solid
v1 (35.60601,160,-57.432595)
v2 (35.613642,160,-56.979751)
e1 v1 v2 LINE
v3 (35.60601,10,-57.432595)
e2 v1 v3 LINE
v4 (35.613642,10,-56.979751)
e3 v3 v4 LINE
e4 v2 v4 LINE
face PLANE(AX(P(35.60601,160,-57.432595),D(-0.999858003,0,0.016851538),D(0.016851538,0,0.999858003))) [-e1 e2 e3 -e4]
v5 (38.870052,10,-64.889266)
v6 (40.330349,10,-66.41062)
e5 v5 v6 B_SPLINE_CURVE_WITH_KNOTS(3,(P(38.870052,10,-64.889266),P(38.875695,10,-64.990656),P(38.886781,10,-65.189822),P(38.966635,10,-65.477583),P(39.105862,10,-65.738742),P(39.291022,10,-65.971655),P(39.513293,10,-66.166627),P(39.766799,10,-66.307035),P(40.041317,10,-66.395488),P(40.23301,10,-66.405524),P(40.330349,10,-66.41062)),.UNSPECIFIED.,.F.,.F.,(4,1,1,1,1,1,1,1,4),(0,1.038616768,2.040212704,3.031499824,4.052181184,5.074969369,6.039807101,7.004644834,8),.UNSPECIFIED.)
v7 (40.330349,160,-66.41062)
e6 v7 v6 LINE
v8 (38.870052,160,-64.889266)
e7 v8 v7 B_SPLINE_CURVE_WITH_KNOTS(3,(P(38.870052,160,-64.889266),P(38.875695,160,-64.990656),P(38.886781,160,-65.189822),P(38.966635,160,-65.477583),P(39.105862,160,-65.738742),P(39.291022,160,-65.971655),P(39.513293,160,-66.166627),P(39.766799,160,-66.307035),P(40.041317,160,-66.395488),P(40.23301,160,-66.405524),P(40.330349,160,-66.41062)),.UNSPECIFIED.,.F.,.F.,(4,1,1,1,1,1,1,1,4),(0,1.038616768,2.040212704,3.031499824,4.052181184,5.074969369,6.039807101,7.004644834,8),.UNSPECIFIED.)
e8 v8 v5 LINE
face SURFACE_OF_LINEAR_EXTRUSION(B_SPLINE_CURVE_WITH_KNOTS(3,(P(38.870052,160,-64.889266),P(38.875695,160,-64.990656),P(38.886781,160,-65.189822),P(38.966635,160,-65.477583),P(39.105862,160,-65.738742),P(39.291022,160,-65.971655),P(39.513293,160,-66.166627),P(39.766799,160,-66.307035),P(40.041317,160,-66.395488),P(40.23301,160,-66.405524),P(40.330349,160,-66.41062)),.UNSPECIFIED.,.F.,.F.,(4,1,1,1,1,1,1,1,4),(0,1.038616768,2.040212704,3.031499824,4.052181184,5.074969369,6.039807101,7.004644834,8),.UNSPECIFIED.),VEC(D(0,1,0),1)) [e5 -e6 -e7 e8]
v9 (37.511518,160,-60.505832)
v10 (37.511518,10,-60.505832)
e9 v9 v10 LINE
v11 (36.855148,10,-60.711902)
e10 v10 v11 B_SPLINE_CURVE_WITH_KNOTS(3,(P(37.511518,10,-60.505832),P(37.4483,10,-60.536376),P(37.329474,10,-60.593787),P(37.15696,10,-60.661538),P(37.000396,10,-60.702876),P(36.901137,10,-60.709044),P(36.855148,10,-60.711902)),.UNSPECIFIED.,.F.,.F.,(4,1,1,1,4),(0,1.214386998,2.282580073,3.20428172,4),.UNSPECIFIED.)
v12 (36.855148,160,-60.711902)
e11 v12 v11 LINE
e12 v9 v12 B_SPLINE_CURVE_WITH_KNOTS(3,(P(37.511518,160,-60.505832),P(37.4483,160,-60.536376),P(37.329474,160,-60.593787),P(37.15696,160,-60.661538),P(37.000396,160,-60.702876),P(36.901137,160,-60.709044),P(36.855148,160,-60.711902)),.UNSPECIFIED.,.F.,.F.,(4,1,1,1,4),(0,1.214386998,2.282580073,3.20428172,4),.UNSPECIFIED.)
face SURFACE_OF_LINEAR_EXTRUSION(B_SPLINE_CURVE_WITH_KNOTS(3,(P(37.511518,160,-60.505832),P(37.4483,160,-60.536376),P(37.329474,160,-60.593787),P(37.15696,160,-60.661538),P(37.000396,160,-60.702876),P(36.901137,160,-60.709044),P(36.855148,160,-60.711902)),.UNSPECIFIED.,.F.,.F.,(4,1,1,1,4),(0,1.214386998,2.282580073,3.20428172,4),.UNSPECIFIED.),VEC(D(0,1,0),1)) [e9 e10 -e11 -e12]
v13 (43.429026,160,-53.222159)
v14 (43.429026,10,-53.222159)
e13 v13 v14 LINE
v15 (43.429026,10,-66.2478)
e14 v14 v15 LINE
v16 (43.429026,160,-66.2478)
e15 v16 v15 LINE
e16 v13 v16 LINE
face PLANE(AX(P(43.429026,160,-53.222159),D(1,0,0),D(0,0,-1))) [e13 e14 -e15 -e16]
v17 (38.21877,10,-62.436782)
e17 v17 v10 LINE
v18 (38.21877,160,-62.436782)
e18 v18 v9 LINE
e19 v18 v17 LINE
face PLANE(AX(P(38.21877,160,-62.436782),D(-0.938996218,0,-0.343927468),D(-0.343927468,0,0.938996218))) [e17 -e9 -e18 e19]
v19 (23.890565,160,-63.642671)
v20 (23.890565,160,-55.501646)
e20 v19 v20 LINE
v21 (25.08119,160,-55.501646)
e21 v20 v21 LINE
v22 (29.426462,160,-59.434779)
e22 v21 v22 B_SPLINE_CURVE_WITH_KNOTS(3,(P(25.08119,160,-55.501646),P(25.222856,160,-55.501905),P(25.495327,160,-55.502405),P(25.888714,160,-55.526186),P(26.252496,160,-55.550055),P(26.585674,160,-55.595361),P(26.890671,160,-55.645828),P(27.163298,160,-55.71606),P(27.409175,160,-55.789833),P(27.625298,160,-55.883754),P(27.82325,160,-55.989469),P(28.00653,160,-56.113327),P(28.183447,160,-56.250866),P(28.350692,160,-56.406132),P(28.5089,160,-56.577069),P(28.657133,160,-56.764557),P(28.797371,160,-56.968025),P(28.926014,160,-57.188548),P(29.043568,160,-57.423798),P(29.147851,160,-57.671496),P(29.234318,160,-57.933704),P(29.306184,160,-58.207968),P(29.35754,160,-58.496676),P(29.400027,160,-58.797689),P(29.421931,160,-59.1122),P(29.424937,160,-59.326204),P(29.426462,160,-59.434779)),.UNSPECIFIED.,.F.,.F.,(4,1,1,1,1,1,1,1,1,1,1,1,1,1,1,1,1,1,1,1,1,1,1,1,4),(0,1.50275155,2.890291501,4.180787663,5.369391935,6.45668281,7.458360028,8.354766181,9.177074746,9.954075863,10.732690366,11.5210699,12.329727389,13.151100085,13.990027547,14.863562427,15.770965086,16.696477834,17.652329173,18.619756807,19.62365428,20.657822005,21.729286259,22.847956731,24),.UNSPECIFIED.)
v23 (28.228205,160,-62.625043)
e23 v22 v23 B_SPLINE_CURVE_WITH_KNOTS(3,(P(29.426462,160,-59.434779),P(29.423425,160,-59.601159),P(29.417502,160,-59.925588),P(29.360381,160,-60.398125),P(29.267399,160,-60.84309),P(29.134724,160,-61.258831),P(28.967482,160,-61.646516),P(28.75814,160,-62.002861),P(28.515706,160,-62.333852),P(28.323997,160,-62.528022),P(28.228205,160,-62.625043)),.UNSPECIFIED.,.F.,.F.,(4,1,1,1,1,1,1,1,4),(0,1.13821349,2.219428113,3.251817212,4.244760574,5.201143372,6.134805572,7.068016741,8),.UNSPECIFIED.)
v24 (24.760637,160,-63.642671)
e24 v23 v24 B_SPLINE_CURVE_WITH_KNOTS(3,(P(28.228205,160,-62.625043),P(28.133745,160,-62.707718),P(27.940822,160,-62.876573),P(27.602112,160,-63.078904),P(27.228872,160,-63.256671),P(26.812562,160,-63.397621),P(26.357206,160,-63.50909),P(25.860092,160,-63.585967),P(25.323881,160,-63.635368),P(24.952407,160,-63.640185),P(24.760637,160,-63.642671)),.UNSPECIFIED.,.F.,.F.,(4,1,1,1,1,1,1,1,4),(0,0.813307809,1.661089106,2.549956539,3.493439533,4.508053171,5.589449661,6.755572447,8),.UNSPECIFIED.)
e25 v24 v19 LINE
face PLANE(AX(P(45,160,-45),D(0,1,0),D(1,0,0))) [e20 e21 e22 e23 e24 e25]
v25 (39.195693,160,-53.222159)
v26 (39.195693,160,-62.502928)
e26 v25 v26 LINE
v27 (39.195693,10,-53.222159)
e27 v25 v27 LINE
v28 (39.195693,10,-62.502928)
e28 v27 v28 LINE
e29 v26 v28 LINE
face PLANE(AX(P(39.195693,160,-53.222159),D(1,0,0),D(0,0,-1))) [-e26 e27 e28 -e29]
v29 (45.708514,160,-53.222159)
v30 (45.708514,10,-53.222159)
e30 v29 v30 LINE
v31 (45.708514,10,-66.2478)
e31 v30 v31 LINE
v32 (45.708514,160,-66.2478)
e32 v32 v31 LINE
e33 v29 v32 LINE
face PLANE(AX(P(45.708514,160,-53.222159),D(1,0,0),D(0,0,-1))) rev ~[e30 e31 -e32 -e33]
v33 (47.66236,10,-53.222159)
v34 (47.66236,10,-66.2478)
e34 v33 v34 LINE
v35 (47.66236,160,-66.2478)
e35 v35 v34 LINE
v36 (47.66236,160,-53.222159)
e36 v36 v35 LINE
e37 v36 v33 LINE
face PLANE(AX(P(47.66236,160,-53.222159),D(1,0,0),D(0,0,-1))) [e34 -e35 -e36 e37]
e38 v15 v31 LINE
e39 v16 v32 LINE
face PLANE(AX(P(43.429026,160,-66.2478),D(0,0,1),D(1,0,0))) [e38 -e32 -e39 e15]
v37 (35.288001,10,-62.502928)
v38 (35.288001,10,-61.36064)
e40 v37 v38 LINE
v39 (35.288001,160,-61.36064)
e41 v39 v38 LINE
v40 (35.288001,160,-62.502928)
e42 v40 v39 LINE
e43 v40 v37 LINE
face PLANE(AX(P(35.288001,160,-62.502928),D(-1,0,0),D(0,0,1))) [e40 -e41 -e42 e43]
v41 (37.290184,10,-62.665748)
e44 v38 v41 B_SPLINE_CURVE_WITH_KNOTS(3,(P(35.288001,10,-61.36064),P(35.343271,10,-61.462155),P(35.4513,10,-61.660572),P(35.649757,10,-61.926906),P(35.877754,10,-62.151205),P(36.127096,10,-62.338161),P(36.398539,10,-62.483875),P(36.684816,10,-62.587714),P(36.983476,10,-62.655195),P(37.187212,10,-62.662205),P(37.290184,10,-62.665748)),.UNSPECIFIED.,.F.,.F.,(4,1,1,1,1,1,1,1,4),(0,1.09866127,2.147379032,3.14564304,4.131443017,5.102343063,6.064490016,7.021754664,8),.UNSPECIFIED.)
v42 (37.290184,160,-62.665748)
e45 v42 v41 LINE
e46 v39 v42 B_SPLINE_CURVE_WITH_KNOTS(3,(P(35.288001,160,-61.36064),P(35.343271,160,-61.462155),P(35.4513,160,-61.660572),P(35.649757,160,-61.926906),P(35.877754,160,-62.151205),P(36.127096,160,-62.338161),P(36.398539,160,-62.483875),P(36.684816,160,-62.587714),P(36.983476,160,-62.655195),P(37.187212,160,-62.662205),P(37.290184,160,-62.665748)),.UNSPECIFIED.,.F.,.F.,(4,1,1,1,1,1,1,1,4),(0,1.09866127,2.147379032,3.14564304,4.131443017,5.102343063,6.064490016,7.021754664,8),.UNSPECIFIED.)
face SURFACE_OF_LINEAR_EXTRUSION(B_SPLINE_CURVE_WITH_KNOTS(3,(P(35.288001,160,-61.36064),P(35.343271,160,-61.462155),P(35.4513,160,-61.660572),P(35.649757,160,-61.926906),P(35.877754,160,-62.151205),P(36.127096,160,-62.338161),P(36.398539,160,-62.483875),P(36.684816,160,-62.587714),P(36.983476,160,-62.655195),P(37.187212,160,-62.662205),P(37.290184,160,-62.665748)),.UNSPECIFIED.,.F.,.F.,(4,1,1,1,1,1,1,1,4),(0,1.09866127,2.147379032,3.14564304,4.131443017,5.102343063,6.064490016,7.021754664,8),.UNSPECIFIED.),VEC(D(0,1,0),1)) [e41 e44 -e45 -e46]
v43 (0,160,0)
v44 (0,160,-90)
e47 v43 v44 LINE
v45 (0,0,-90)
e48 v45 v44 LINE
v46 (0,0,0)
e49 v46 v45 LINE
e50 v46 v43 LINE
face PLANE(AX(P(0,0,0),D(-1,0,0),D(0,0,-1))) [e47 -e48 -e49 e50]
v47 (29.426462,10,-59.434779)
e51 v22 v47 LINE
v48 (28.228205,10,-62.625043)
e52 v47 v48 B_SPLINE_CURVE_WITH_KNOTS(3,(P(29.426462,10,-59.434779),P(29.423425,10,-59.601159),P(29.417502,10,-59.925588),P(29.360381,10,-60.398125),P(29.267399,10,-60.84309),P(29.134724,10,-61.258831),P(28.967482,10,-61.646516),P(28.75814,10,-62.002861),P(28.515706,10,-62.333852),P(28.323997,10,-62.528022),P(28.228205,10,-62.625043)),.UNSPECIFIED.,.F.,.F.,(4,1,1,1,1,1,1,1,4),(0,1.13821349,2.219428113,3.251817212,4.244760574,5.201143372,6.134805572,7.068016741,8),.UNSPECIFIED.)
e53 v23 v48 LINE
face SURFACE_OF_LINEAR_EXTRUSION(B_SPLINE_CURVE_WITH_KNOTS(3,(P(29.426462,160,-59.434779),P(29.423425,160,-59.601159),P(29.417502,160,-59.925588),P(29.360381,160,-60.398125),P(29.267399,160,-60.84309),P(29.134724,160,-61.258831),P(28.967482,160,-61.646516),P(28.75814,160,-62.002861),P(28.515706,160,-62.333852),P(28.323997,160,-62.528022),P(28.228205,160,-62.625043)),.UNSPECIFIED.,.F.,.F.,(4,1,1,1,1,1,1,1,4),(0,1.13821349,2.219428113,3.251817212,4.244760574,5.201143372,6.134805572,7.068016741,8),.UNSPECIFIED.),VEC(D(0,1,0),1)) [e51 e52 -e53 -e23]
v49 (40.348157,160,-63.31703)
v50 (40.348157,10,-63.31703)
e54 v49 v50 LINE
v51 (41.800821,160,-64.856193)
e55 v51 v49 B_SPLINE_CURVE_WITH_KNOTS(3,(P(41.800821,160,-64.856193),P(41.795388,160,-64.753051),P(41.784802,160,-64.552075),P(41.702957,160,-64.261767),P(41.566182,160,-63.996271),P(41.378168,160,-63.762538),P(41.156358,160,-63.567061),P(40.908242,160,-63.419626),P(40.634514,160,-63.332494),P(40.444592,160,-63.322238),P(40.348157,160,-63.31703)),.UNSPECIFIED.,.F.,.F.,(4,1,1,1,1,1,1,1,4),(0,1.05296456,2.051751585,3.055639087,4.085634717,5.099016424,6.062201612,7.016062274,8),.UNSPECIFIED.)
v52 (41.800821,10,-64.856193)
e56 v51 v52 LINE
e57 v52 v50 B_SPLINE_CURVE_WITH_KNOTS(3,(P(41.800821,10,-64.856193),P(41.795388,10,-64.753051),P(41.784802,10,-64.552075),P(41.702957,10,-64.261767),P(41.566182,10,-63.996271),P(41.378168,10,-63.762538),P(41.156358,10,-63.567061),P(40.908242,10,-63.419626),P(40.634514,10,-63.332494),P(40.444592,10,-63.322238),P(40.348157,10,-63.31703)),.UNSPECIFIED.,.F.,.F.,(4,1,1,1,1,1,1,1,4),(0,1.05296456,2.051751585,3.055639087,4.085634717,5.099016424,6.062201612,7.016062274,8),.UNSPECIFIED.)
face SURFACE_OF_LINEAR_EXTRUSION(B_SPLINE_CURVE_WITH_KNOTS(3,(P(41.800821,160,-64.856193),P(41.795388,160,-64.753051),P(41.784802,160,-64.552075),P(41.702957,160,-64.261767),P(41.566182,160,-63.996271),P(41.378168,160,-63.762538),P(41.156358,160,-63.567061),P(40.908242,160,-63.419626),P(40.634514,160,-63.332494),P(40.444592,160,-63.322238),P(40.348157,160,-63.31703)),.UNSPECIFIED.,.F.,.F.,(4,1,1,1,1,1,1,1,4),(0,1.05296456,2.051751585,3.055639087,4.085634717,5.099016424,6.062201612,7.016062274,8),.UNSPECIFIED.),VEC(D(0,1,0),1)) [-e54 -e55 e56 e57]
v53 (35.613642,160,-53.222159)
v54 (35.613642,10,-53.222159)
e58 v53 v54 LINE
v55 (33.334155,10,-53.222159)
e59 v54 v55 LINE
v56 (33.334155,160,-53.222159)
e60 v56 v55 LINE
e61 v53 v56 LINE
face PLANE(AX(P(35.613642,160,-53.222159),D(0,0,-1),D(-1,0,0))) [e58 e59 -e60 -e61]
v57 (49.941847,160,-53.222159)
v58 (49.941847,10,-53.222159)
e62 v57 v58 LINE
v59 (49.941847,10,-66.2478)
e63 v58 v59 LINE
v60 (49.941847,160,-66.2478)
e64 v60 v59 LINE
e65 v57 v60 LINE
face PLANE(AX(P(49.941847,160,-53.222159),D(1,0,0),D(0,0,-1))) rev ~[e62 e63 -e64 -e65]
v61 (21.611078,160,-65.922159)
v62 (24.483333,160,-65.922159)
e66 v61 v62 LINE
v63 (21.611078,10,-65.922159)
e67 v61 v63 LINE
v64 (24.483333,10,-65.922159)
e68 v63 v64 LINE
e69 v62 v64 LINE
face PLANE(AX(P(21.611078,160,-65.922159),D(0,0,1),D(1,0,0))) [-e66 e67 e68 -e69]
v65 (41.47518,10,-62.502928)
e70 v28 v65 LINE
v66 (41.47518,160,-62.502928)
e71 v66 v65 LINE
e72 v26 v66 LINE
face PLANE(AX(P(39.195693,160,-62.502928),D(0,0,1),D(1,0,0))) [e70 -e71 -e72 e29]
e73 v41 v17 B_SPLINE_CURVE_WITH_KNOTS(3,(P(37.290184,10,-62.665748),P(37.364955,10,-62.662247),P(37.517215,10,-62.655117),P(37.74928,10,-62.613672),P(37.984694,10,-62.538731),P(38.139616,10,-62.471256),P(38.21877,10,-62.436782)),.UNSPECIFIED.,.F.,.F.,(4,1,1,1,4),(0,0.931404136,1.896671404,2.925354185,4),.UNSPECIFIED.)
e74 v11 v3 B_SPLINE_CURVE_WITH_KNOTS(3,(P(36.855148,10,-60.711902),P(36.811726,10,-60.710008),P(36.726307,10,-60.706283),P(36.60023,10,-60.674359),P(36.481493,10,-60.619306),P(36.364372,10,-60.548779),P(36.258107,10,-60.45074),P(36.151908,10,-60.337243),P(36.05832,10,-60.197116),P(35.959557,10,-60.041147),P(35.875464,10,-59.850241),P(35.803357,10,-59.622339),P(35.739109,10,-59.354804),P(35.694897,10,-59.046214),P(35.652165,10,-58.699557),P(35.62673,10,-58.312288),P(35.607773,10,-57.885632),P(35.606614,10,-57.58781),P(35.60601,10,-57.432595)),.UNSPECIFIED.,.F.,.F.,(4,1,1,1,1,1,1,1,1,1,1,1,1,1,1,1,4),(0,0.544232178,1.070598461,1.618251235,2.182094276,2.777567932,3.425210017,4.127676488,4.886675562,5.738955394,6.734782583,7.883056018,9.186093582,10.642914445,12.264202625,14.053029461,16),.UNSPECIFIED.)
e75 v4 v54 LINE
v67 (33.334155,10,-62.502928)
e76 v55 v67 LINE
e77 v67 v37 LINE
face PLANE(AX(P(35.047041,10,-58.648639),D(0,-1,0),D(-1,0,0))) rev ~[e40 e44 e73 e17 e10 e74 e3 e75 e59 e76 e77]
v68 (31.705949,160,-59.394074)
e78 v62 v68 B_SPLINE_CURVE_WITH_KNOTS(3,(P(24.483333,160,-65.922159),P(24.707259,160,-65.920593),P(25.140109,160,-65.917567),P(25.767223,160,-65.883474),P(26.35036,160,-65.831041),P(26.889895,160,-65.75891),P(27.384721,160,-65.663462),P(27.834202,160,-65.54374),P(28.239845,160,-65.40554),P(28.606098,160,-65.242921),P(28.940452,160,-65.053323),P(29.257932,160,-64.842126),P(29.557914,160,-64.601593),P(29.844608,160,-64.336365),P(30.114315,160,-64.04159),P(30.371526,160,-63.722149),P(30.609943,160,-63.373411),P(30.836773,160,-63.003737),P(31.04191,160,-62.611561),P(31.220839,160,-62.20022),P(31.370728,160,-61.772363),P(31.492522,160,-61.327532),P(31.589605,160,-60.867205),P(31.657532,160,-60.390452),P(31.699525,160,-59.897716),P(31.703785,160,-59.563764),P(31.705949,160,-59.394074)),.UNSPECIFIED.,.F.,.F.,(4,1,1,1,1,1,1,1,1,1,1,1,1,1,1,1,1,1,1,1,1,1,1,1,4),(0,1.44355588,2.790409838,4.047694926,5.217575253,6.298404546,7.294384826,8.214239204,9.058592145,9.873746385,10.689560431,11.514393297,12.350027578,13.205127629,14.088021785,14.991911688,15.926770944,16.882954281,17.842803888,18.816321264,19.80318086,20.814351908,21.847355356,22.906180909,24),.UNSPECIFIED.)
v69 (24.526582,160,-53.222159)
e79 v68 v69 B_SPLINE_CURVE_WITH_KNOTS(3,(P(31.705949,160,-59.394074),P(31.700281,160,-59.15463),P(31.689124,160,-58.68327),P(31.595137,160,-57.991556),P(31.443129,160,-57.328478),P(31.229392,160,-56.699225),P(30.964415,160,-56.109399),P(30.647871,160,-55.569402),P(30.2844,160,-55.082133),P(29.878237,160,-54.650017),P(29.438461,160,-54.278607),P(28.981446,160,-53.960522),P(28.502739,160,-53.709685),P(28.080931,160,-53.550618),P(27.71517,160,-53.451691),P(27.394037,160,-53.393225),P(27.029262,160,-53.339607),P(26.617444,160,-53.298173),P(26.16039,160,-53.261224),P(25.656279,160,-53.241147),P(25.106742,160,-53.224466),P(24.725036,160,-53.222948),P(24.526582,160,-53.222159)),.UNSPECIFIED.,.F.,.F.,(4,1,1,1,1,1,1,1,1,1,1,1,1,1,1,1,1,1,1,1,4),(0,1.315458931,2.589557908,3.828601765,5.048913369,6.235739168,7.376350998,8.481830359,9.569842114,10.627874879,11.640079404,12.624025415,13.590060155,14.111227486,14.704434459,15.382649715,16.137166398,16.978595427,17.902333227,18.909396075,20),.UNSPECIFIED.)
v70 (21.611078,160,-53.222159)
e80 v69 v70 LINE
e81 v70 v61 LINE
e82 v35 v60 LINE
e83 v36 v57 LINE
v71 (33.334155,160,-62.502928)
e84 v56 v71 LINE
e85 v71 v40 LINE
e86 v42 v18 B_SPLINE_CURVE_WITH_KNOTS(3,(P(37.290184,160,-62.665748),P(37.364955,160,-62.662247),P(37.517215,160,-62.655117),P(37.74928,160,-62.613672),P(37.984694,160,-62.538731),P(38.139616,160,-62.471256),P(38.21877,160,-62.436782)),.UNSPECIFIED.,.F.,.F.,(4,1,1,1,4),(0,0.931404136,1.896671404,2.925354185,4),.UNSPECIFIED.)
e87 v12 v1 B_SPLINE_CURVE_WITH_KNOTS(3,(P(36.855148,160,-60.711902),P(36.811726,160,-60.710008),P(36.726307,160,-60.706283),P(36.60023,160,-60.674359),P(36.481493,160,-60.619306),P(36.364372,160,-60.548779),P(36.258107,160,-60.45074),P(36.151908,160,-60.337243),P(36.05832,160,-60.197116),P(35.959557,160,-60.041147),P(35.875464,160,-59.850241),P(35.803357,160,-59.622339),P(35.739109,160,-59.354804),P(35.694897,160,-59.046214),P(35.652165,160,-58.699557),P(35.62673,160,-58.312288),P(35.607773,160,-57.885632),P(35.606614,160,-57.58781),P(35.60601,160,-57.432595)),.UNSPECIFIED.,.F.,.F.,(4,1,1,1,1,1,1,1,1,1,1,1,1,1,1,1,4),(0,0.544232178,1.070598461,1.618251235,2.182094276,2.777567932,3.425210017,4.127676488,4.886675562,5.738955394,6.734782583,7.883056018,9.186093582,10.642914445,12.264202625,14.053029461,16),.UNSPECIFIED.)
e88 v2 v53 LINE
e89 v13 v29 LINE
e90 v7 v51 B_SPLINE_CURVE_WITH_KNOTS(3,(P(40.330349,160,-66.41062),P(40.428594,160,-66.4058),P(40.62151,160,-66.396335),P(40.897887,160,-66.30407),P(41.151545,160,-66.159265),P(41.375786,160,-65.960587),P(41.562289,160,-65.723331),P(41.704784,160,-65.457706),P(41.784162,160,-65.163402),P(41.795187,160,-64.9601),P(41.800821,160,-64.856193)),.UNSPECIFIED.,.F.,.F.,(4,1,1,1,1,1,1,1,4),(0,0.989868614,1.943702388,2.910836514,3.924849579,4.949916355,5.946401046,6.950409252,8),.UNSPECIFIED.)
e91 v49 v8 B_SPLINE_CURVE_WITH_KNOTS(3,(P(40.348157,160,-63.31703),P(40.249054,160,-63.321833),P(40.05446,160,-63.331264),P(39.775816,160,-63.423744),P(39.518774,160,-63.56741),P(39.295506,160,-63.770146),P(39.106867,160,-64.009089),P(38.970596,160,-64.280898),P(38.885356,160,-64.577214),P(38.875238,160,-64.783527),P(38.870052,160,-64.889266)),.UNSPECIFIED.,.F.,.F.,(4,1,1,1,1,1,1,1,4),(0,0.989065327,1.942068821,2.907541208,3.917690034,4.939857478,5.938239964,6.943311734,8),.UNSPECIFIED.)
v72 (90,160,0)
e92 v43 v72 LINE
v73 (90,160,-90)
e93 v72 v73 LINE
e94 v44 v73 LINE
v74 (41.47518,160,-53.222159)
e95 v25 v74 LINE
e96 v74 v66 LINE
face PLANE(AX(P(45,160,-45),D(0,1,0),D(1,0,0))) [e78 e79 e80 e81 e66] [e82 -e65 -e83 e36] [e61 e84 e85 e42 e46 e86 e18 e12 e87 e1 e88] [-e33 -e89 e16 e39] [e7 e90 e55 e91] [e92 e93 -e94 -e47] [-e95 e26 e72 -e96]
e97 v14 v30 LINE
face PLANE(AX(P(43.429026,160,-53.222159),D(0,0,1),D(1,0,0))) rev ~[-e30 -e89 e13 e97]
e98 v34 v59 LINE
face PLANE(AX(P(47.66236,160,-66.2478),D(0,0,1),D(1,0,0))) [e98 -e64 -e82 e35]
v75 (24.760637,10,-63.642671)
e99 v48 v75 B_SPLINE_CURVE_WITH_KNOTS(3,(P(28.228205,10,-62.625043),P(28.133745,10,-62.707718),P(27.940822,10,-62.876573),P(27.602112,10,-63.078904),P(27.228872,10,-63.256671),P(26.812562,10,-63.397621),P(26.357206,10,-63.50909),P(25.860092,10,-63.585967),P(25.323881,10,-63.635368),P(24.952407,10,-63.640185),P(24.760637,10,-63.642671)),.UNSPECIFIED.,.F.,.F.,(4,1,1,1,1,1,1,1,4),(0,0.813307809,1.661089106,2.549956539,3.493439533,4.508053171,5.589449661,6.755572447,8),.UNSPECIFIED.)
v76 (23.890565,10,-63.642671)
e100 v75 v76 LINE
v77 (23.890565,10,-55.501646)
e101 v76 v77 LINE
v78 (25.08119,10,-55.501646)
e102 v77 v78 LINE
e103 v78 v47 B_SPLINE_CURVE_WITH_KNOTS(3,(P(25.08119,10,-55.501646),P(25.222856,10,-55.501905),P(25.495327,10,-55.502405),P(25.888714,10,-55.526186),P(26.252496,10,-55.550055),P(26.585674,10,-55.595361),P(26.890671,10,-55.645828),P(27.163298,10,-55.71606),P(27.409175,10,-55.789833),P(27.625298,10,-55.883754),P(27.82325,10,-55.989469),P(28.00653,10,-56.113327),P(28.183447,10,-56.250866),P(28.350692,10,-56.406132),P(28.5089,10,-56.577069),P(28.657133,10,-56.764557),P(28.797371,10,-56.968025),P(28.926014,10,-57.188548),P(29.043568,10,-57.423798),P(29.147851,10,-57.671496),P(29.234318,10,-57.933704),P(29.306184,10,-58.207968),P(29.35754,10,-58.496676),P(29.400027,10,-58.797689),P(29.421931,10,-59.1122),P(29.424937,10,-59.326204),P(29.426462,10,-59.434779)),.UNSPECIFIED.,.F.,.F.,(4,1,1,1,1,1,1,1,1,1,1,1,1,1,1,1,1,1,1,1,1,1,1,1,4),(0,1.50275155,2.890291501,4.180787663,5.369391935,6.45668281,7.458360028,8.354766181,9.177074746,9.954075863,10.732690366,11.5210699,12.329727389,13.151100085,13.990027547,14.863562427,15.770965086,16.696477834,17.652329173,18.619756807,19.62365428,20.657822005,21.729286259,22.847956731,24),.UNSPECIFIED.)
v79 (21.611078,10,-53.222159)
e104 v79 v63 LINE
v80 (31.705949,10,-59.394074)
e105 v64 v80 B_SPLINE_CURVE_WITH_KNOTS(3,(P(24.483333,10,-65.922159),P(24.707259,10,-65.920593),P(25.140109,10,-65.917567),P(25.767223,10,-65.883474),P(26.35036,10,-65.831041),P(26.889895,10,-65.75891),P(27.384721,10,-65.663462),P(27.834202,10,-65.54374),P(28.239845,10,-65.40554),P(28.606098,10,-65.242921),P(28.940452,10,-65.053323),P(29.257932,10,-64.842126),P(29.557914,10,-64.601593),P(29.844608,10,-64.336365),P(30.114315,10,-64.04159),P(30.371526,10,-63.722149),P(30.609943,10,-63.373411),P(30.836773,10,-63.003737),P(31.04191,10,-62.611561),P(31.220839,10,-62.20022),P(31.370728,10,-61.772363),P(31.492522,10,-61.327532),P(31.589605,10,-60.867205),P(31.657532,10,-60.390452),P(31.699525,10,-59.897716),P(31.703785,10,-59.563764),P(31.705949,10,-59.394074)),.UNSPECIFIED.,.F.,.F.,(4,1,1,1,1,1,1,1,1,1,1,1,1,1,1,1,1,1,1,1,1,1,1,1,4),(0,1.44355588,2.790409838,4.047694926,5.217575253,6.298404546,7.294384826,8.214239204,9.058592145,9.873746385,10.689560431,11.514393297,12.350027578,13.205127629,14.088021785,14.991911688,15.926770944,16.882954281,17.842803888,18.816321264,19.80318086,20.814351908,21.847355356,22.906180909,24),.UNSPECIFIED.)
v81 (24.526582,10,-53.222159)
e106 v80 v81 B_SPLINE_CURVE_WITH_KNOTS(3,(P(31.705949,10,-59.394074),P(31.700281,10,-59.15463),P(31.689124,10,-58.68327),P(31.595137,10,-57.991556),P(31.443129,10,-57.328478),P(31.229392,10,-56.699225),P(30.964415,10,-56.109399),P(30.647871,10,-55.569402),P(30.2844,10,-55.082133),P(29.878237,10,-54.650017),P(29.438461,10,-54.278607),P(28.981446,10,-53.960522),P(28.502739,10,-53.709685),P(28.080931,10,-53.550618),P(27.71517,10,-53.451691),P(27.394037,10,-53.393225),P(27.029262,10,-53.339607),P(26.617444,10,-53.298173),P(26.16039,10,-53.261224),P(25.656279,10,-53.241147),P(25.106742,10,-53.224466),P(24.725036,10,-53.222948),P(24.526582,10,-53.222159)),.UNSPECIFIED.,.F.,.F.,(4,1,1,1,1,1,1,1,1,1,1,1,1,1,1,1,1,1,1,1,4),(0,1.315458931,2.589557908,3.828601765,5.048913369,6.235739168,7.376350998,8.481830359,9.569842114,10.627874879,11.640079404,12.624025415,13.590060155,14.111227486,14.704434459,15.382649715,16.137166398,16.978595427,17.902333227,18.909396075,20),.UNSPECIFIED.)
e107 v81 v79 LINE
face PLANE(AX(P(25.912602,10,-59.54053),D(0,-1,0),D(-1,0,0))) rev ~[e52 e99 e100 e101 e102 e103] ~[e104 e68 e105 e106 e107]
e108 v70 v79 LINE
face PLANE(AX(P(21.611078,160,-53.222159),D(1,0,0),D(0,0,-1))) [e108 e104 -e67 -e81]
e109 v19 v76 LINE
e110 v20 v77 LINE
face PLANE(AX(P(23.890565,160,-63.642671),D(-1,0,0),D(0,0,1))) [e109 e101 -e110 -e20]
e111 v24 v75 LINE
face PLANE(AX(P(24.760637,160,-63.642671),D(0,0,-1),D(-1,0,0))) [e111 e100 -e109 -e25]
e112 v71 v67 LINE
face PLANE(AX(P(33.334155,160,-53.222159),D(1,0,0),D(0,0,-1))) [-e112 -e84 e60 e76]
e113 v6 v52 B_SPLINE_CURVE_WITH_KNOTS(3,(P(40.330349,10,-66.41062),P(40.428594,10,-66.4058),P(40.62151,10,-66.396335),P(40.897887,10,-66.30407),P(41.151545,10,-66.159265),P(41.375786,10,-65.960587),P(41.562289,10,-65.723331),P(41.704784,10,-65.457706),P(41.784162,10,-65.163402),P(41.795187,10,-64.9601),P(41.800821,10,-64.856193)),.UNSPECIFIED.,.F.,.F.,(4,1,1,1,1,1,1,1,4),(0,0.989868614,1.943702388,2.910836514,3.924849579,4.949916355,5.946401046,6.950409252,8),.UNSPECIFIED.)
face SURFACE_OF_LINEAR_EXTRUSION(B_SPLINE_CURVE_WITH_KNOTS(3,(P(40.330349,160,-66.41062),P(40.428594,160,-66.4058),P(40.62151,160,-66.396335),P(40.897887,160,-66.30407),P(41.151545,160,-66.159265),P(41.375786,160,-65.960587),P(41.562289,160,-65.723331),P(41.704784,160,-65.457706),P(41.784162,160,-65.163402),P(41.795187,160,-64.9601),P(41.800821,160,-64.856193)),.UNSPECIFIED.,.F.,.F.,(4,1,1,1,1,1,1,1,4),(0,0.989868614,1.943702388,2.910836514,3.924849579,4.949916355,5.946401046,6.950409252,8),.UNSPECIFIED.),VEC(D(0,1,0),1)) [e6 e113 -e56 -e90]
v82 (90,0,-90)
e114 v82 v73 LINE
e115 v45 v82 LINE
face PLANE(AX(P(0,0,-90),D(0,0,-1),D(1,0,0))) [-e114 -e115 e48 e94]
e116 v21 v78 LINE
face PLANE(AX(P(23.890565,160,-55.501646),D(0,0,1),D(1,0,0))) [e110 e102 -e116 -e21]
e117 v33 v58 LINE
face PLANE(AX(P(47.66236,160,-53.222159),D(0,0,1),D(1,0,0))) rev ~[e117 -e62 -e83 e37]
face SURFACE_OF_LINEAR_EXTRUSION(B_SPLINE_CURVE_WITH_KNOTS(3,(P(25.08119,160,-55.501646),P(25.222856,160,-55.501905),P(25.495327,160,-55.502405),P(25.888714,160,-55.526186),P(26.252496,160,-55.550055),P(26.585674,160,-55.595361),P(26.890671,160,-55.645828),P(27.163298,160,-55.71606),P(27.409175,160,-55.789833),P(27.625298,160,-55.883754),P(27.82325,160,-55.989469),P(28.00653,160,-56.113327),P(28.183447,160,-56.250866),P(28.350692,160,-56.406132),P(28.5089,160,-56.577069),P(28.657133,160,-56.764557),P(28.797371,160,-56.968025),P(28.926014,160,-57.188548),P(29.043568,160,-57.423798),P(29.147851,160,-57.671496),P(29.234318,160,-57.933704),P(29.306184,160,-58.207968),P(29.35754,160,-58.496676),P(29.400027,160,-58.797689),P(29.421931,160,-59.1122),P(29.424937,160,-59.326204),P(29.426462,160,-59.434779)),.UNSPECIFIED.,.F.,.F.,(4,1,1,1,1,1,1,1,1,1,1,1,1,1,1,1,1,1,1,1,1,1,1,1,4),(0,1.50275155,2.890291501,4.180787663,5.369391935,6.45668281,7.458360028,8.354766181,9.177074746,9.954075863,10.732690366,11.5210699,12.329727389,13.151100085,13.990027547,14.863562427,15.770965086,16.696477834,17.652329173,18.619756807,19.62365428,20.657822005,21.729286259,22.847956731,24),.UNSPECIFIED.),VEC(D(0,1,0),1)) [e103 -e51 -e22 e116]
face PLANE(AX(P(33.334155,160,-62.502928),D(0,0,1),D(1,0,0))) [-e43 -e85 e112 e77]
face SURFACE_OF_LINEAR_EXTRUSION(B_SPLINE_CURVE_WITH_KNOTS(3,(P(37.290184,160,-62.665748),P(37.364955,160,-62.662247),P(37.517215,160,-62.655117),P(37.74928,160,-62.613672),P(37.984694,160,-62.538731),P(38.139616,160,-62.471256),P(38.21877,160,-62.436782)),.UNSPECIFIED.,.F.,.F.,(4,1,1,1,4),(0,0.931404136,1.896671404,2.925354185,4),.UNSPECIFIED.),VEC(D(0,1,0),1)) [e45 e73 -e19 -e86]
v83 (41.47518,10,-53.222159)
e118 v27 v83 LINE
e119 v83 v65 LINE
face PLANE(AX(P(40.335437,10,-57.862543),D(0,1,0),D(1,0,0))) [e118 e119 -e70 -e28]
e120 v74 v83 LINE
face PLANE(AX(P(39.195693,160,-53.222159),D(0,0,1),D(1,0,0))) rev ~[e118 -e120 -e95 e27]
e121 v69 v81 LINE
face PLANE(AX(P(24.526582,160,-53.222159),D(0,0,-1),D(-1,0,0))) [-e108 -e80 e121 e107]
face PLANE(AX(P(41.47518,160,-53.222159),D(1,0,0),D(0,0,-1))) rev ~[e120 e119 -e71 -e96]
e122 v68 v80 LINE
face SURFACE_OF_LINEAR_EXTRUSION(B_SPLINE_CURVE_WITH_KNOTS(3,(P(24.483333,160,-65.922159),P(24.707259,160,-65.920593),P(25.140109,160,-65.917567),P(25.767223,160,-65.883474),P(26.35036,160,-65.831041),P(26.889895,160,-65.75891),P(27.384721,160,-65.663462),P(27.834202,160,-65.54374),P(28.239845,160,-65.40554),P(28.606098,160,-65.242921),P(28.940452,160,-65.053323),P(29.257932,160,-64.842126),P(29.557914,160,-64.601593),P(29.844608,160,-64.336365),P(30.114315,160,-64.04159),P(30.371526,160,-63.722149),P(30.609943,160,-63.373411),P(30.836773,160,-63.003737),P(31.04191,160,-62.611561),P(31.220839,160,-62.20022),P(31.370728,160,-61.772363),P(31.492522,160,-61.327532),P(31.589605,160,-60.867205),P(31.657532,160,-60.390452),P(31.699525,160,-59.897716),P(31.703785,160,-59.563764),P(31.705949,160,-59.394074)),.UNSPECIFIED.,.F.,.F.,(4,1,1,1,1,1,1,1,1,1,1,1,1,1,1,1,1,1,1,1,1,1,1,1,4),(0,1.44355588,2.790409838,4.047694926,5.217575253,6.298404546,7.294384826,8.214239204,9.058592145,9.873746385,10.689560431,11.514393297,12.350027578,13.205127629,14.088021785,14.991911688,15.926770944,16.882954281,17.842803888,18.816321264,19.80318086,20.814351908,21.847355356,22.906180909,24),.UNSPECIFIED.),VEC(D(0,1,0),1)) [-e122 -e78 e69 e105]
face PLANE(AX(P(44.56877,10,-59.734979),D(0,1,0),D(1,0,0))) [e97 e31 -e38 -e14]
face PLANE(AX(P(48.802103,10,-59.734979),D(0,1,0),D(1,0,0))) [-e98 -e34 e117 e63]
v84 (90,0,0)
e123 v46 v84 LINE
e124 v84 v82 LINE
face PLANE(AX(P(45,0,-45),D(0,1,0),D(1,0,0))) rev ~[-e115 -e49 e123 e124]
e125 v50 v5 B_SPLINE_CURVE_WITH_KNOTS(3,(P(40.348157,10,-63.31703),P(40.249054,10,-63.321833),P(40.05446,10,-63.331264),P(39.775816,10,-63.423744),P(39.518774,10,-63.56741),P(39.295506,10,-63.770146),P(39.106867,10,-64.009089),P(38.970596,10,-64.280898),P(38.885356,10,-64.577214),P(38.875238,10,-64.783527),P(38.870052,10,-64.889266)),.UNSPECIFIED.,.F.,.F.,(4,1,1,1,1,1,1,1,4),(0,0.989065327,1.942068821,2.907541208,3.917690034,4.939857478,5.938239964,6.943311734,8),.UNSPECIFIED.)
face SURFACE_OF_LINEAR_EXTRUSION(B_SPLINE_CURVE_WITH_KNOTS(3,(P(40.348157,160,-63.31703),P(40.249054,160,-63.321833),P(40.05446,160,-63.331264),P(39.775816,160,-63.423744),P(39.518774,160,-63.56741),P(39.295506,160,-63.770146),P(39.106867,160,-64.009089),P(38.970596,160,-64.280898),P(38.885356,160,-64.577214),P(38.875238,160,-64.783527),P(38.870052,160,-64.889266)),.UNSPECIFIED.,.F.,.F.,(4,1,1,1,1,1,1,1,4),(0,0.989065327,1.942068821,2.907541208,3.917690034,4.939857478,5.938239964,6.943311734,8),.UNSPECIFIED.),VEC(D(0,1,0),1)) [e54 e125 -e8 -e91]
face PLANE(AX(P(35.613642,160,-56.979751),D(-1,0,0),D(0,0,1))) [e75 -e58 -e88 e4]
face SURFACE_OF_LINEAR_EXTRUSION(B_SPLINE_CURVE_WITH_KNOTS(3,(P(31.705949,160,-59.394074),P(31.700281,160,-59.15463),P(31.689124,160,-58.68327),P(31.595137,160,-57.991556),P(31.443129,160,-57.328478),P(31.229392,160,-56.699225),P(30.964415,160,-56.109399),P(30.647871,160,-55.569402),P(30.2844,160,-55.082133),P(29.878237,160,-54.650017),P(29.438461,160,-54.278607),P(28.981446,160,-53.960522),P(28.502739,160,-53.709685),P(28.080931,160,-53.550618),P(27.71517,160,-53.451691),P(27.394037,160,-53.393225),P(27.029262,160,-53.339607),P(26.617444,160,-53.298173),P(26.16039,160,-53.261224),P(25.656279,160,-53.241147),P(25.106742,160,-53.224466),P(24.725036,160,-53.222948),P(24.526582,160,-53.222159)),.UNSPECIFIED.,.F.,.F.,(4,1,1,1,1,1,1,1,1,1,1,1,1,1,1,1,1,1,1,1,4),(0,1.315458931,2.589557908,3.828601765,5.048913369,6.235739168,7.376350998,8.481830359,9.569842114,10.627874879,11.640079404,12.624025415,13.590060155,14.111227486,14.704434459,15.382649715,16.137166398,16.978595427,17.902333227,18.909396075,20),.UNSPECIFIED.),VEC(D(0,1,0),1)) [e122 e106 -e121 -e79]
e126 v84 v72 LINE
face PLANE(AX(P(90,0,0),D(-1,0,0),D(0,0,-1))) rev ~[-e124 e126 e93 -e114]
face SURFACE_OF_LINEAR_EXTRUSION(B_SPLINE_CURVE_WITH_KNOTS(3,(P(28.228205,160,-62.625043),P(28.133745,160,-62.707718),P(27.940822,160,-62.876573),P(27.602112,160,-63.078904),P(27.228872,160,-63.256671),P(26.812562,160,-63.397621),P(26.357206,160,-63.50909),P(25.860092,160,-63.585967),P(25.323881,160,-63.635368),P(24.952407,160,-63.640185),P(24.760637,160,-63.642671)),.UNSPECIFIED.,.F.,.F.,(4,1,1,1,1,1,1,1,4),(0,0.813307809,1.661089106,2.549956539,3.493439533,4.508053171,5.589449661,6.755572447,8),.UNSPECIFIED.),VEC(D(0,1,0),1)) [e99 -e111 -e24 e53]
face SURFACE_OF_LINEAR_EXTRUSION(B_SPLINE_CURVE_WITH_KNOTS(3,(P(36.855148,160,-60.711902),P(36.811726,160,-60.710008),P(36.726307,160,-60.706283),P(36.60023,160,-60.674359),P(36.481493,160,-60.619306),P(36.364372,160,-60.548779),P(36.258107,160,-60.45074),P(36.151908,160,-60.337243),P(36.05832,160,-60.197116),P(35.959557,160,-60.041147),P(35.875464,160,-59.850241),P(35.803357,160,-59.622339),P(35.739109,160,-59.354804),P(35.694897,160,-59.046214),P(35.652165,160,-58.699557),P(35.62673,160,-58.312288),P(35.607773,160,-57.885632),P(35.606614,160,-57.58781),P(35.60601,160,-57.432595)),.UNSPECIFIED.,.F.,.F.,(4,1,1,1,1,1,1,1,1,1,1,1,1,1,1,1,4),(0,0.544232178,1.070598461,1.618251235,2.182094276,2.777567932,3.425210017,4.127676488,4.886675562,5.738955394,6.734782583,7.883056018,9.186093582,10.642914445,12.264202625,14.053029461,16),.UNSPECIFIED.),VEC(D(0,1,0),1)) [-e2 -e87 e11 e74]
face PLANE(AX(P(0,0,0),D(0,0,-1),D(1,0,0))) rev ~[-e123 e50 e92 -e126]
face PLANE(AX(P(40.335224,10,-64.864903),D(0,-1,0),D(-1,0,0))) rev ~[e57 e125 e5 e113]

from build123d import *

# Parameters (mm, degrees)
SKETCH1_W           = 90
SKETCH1_H           = 90
BOSS_EXTRUDE1_DEPTH = 160
SKETCH2_W           = 2.27948718
SKETCH2_H           = 9.280769231
SKETCH2_W_2         = 2.279487179
SKETCH2_H_2         = 13.025641026
CUT_EXTRUDE1_DEPTH  = 150


with BuildPart() as part:
    # Sketch1 → Boss-Extrude1 (new body)
    with BuildSketch(Plane(origin=(0, 0, 0), x_dir=(1, 0, 0), z_dir=(0, 1, 0))):
        with Locations((45, 45)):
            Rectangle(SKETCH1_W, SKETCH1_H)
    extrude(amount=BOSS_EXTRUDE1_DEPTH)

    # Sketch2 → Cut-Extrude1 (cut)
    with BuildSketch(Plane(origin=(0, 160, 0), x_dir=(1, 0, 0), z_dir=(0, 1, 0))):
        with BuildLine():
            Line((21.611077672, 65.922158503), (24.483333281, 65.922158503))
            add(Edge.make_bspline(
                [(24.483333281, 65.922158503), (24.707258642, 65.920593189), (25.140108898, 65.917567417), (25.767223285, 65.88347425), (26.350359864, 65.831041379), (26.889894536, 65.758910462), (27.384721167, 65.663461507), (27.834201687, 65.543739501), (28.239844663, 65.405540361), (28.606097885, 65.242921031), (28.940451848, 65.053323041), (29.257931608, 64.842126103), (29.557913799, 64.601593454), (29.844608198, 64.336365449), (30.114314952, 64.041589823), (30.371525645, 63.722149129), (30.609942592, 63.373411035), (30.836772622, 63.003737182), (31.0419102, 62.611560926), (31.220838862, 62.200220391), (31.370728486, 61.772362706), (31.492521568, 61.327531886), (31.589604711, 60.867204634), (31.657531829, 60.390452053), (31.69952505, 59.897715535), (31.703784912, 59.563763804), (31.705949466, 59.394073568)],
                knots=[0, 0, 0, 0, 1.44355588, 2.790409838, 4.047694926, 5.217575253, 6.298404546, 7.294384826, 8.214239204, 9.058592145, 9.873746385, 10.689560431, 11.514393297, 12.350027578, 13.205127629, 14.088021785, 14.991911688, 15.926770944, 16.882954281, 17.842803888, 18.816321264, 19.80318086, 20.814351908, 21.847355356, 22.906180909, 24, 24, 24, 24], degree=3))
            add(Edge.make_bspline(
                [(31.705949466, 59.394073568), (31.700281493, 59.154629598), (31.689123756, 58.683270128), (31.595137212, 57.991555537), (31.443129146, 57.328478111), (31.229391999, 56.699224698), (30.964415152, 56.109398894), (30.647870638, 55.569402028), (30.284399734, 55.082132531), (29.8782369, 54.650016606), (29.438461471, 54.278607111), (28.981446119, 53.960522058), (28.502738681, 53.709685452), (28.080930527, 53.550617534), (27.715170235, 53.451691051), (27.394036655, 53.393224547), (27.029261674, 53.339607236), (26.617444083, 53.298172932), (26.160390436, 53.261223715), (25.656278912, 53.241146949), (25.106741679, 53.224466136), (24.725036111, 53.22294787), (24.526582479, 53.222158503)],
                knots=[0, 0, 0, 0, 1.315458931, 2.589557908, 3.828601765, 5.048913369, 6.235739168, 7.376350998, 8.481830359, 9.569842114, 10.627874879, 11.640079404, 12.624025415, 13.590060155, 14.111227486, 14.704434459, 15.382649715, 16.137166398, 16.978595427, 17.902333227, 18.909396075, 20, 20, 20, 20], degree=3))
            Line((24.526582479, 53.222158503), (21.611077672, 53.222158503))
            Line((21.611077672, 53.222158503), (21.611077672, 65.922158503))
        make_face()
        with BuildLine():
            Line((23.890564851, 63.642671324), (23.890564851, 55.501645683))
            Line((23.890564851, 55.501645683), (25.081189851, 55.501645683))
            add(Edge.make_bspline(
                [(25.081189851, 55.501645683), (25.222855941, 55.501905274), (25.495326993, 55.502404554), (25.888713514, 55.52618568), (26.252496301, 55.550055373), (26.585673943, 55.595360849), (26.890671205, 55.645827961), (27.163298221, 55.716059857), (27.409175021, 55.789832515), (27.625298266, 55.883754252), (27.823249549, 55.989469418), (28.006529826, 56.11332699), (28.183446608, 56.250866153), (28.350692293, 56.406132129), (28.508899865, 56.577068904), (28.657133269, 56.764557241), (28.797371028, 56.968025107), (28.926013504, 57.188548286), (29.043567688, 57.423798005), (29.147851421, 57.671495526), (29.234318024, 57.933703637), (29.306183771, 58.207967754), (29.357539996, 58.496675658), (29.400027477, 58.797688929), (29.421931011, 59.112200156), (29.424937135, 59.326204107), (29.426462287, 59.434778696)],
                knots=[0, 0, 0, 0, 1.50275155, 2.890291501, 4.180787663, 5.369391935, 6.45668281, 7.458360028, 8.354766181, 9.177074746, 9.954075863, 10.732690366, 11.5210699, 12.329727389, 13.151100085, 13.990027547, 14.863562427, 15.770965086, 16.696477834, 17.652329173, 18.619756807, 19.62365428, 20.657822005, 21.729286259, 22.847956731, 24, 24, 24, 24], degree=3))
            add(Edge.make_bspline(
                [(29.426462287, 59.434778696), (29.423424701, 59.601158989), (29.417501644, 59.92558767), (29.360380967, 60.398125124), (29.267399399, 60.843089927), (29.134723662, 61.258830694), (28.967481782, 61.646515876), (28.758139585, 62.002860957), (28.515706351, 62.333852044), (28.323996765, 62.528022037), (28.228205075, 62.625043119)],
                knots=[0, 0, 0, 0, 1.13821349, 2.219428113, 3.251817212, 4.244760574, 5.201143372, 6.134805572, 7.068016741, 8, 8, 8, 8], degree=3))
            add(Edge.make_bspline(
                [(28.228205075, 62.625043119), (28.133745399, 62.707718197), (27.940822207, 62.876572683), (27.602112479, 63.078903538), (27.228871901, 63.256671027), (26.812561848, 63.39762082), (26.357205771, 63.509089926), (25.86009156, 63.585967442), (25.32388137, 63.635368119), (24.952407444, 63.640184767), (24.760636966, 63.642671324)],
                knots=[0, 0, 0, 0, 0.813307809, 1.661089106, 2.549956539, 3.493439533, 4.508053171, 5.589449661, 6.755572447, 8, 8, 8, 8], degree=3))
            Line((24.760636966, 63.642671324), (23.890564851, 63.642671324))
        make_face(mode=Mode.SUBTRACT)
        with BuildLine():
            Line((33.334154595, 62.502927734), (35.288000749, 62.502927734))
            Line((35.288000749, 62.502927734), (35.288000749, 61.360640074))
            add(Edge.make_bspline(
                [(35.288000749, 61.360640074), (35.343271305, 61.462155493), (35.451299902, 61.66057159), (35.649757493, 61.926905908), (35.877753612, 62.151205239), (36.127095654, 62.338161009), (36.398539324, 62.483874674), (36.684815845, 62.587714031), (36.983476127, 62.655195223), (37.187212046, 62.662205243), (37.290184242, 62.665748247)],
                knots=[0, 0, 0, 0, 1.09866127, 2.147379032, 3.14564304, 4.131443017, 5.102343063, 6.064490016, 7.021754664, 8, 8, 8, 8], degree=3))
            add(Edge.make_bspline(
                [(37.290184242, 62.665748247), (37.364954905, 62.662247019), (37.517214674, 62.655117269), (37.749279987, 62.613671922), (37.984693596, 62.538730853), (38.139616036, 62.471256381), (38.218769979, 62.436781901)],
                knots=[0, 0, 0, 0, 0.931404136, 1.896671404, 2.925354185, 4, 4, 4, 4], degree=3))
            Line((38.218769979, 62.436781901), (37.511518377, 60.505832382))
            add(Edge.make_bspline(
                [(37.511518377, 60.505832382), (37.448300183, 60.536376356), (37.329474315, 60.593787271), (37.156959787, 60.661538064), (37.000395699, 60.702876287), (36.901136942, 60.709044312), (36.855148184, 60.711902093)],
                knots=[0, 0, 0, 0, 1.214386998, 2.282580073, 3.20428172, 4, 4, 4, 4], degree=3))
            add(Edge.make_bspline(
                [(36.855148184, 60.711902093), (36.811725854, 60.710008376), (36.726306649, 60.706283109), (36.600230293, 60.674358835), (36.481492619, 60.619306412), (36.364371666, 60.548778795), (36.258106978, 60.450740133), (36.151907928, 60.337242974), (36.058319638, 60.197115636), (35.959556851, 60.041146791), (35.875463869, 59.850241066), (35.803356726, 59.622338971), (35.739108683, 59.354803523), (35.694897257, 59.046214239), (35.65216514, 58.699557253), (35.626729934, 58.312288146), (35.607772753, 57.8856315), (35.606613649, 57.587809763), (35.606009563, 57.432595202)],
                knots=[0, 0, 0, 0, 0.544232178, 1.070598461, 1.618251235, 2.182094276, 2.777567932, 3.425210017, 4.127676488, 4.886675562, 5.738955394, 6.734782583, 7.883056018, 9.186093582, 10.642914445, 12.264202625, 14.053029461, 16, 16, 16, 16], degree=3))
            Line((35.606009563, 57.432595202), (35.613641774, 56.979750651))
            Line((35.613641774, 56.979750651), (35.613641774, 53.222158503))
            Line((35.613641774, 53.222158503), (33.334154595, 53.222158503))
            Line((33.334154595, 53.222158503), (33.334154595, 62.502927734))
        make_face()
        with BuildLine():
            add(Edge.make_bspline(
                [(40.330348505, 66.410620042), (40.428594386, 66.405799727), (40.62150964, 66.396334575), (40.897886993, 66.304070393), (41.151545391, 66.159264517), (41.375786449, 65.960587403), (41.562289193, 65.723330591), (41.704784215, 65.457705815), (41.784162256, 65.163402119), (41.795186692, 64.960100203), (41.800821261, 64.856192959)],
                knots=[0, 0, 0, 0, 0.989868614, 1.943702388, 2.910836514, 3.924849579, 4.949916355, 5.946401046, 6.950409252, 8, 8, 8, 8], degree=3))
            add(Edge.make_bspline(
                [(41.800821261, 64.856192959), (41.795388287, 64.753051453), (41.784801879, 64.552075317), (41.702957281, 64.261766931), (41.566181513, 63.996271169), (41.378168214, 63.762538061), (41.156358222, 63.56706076), (40.908242454, 63.41962602), (40.634513598, 63.332494474), (40.444591807, 63.322238088), (40.348156999, 63.317030298)],
                knots=[0, 0, 0, 0, 1.05296456, 2.051751585, 3.055639087, 4.085634717, 5.099016424, 6.062201612, 7.016062274, 8, 8, 8, 8], degree=3))
            add(Edge.make_bspline(
                [(40.348156999, 63.317030298), (40.249053512, 63.321833381), (40.054459903, 63.331264425), (39.775815687, 63.423744483), (39.518774135, 63.567409919), (39.295505833, 63.770146314), (39.106867216, 64.009089016), (38.970596432, 64.280897766), (38.885355686, 64.577213904), (38.875237684, 64.783526859), (38.870052031, 64.889265875)],
                knots=[0, 0, 0, 0, 0.989065327, 1.942068821, 2.907541208, 3.917690034, 4.939857478, 5.938239964, 6.943311734, 8, 8, 8, 8], degree=3))
            add(Edge.make_bspline(
                [(38.870052031, 64.889265875), (38.87569544, 64.990655977), (38.886781102, 65.189822194), (38.966634626, 65.477582657), (39.105862243, 65.738741864), (39.291021589, 65.971655469), (39.513293056, 66.166626507), (39.766799179, 66.307034534), (40.041316502, 66.395487942), (40.233009707, 66.405523927), (40.330348505, 66.410620042)],
                knots=[0, 0, 0, 0, 1.038616768, 2.040212704, 3.031499824, 4.052181184, 5.074969369, 6.039807101, 7.004644834, 8, 8, 8, 8], degree=3))
        make_face()
        with Locations((40.335436646, 57.862543118)):
            Rectangle(SKETCH2_W, SKETCH2_H)
        with Locations((44.56876998, 59.734979016)):
            Rectangle(SKETCH2_W_2, SKETCH2_H_2)
        with Locations((48.802103313, 59.734979016)):
            Rectangle(SKETCH2_W_2, SKETCH2_H_2)
    extrude(amount=-CUT_EXTRUDE1_DEPTH, mode=Mode.SUBTRACT)


solid = part.part
